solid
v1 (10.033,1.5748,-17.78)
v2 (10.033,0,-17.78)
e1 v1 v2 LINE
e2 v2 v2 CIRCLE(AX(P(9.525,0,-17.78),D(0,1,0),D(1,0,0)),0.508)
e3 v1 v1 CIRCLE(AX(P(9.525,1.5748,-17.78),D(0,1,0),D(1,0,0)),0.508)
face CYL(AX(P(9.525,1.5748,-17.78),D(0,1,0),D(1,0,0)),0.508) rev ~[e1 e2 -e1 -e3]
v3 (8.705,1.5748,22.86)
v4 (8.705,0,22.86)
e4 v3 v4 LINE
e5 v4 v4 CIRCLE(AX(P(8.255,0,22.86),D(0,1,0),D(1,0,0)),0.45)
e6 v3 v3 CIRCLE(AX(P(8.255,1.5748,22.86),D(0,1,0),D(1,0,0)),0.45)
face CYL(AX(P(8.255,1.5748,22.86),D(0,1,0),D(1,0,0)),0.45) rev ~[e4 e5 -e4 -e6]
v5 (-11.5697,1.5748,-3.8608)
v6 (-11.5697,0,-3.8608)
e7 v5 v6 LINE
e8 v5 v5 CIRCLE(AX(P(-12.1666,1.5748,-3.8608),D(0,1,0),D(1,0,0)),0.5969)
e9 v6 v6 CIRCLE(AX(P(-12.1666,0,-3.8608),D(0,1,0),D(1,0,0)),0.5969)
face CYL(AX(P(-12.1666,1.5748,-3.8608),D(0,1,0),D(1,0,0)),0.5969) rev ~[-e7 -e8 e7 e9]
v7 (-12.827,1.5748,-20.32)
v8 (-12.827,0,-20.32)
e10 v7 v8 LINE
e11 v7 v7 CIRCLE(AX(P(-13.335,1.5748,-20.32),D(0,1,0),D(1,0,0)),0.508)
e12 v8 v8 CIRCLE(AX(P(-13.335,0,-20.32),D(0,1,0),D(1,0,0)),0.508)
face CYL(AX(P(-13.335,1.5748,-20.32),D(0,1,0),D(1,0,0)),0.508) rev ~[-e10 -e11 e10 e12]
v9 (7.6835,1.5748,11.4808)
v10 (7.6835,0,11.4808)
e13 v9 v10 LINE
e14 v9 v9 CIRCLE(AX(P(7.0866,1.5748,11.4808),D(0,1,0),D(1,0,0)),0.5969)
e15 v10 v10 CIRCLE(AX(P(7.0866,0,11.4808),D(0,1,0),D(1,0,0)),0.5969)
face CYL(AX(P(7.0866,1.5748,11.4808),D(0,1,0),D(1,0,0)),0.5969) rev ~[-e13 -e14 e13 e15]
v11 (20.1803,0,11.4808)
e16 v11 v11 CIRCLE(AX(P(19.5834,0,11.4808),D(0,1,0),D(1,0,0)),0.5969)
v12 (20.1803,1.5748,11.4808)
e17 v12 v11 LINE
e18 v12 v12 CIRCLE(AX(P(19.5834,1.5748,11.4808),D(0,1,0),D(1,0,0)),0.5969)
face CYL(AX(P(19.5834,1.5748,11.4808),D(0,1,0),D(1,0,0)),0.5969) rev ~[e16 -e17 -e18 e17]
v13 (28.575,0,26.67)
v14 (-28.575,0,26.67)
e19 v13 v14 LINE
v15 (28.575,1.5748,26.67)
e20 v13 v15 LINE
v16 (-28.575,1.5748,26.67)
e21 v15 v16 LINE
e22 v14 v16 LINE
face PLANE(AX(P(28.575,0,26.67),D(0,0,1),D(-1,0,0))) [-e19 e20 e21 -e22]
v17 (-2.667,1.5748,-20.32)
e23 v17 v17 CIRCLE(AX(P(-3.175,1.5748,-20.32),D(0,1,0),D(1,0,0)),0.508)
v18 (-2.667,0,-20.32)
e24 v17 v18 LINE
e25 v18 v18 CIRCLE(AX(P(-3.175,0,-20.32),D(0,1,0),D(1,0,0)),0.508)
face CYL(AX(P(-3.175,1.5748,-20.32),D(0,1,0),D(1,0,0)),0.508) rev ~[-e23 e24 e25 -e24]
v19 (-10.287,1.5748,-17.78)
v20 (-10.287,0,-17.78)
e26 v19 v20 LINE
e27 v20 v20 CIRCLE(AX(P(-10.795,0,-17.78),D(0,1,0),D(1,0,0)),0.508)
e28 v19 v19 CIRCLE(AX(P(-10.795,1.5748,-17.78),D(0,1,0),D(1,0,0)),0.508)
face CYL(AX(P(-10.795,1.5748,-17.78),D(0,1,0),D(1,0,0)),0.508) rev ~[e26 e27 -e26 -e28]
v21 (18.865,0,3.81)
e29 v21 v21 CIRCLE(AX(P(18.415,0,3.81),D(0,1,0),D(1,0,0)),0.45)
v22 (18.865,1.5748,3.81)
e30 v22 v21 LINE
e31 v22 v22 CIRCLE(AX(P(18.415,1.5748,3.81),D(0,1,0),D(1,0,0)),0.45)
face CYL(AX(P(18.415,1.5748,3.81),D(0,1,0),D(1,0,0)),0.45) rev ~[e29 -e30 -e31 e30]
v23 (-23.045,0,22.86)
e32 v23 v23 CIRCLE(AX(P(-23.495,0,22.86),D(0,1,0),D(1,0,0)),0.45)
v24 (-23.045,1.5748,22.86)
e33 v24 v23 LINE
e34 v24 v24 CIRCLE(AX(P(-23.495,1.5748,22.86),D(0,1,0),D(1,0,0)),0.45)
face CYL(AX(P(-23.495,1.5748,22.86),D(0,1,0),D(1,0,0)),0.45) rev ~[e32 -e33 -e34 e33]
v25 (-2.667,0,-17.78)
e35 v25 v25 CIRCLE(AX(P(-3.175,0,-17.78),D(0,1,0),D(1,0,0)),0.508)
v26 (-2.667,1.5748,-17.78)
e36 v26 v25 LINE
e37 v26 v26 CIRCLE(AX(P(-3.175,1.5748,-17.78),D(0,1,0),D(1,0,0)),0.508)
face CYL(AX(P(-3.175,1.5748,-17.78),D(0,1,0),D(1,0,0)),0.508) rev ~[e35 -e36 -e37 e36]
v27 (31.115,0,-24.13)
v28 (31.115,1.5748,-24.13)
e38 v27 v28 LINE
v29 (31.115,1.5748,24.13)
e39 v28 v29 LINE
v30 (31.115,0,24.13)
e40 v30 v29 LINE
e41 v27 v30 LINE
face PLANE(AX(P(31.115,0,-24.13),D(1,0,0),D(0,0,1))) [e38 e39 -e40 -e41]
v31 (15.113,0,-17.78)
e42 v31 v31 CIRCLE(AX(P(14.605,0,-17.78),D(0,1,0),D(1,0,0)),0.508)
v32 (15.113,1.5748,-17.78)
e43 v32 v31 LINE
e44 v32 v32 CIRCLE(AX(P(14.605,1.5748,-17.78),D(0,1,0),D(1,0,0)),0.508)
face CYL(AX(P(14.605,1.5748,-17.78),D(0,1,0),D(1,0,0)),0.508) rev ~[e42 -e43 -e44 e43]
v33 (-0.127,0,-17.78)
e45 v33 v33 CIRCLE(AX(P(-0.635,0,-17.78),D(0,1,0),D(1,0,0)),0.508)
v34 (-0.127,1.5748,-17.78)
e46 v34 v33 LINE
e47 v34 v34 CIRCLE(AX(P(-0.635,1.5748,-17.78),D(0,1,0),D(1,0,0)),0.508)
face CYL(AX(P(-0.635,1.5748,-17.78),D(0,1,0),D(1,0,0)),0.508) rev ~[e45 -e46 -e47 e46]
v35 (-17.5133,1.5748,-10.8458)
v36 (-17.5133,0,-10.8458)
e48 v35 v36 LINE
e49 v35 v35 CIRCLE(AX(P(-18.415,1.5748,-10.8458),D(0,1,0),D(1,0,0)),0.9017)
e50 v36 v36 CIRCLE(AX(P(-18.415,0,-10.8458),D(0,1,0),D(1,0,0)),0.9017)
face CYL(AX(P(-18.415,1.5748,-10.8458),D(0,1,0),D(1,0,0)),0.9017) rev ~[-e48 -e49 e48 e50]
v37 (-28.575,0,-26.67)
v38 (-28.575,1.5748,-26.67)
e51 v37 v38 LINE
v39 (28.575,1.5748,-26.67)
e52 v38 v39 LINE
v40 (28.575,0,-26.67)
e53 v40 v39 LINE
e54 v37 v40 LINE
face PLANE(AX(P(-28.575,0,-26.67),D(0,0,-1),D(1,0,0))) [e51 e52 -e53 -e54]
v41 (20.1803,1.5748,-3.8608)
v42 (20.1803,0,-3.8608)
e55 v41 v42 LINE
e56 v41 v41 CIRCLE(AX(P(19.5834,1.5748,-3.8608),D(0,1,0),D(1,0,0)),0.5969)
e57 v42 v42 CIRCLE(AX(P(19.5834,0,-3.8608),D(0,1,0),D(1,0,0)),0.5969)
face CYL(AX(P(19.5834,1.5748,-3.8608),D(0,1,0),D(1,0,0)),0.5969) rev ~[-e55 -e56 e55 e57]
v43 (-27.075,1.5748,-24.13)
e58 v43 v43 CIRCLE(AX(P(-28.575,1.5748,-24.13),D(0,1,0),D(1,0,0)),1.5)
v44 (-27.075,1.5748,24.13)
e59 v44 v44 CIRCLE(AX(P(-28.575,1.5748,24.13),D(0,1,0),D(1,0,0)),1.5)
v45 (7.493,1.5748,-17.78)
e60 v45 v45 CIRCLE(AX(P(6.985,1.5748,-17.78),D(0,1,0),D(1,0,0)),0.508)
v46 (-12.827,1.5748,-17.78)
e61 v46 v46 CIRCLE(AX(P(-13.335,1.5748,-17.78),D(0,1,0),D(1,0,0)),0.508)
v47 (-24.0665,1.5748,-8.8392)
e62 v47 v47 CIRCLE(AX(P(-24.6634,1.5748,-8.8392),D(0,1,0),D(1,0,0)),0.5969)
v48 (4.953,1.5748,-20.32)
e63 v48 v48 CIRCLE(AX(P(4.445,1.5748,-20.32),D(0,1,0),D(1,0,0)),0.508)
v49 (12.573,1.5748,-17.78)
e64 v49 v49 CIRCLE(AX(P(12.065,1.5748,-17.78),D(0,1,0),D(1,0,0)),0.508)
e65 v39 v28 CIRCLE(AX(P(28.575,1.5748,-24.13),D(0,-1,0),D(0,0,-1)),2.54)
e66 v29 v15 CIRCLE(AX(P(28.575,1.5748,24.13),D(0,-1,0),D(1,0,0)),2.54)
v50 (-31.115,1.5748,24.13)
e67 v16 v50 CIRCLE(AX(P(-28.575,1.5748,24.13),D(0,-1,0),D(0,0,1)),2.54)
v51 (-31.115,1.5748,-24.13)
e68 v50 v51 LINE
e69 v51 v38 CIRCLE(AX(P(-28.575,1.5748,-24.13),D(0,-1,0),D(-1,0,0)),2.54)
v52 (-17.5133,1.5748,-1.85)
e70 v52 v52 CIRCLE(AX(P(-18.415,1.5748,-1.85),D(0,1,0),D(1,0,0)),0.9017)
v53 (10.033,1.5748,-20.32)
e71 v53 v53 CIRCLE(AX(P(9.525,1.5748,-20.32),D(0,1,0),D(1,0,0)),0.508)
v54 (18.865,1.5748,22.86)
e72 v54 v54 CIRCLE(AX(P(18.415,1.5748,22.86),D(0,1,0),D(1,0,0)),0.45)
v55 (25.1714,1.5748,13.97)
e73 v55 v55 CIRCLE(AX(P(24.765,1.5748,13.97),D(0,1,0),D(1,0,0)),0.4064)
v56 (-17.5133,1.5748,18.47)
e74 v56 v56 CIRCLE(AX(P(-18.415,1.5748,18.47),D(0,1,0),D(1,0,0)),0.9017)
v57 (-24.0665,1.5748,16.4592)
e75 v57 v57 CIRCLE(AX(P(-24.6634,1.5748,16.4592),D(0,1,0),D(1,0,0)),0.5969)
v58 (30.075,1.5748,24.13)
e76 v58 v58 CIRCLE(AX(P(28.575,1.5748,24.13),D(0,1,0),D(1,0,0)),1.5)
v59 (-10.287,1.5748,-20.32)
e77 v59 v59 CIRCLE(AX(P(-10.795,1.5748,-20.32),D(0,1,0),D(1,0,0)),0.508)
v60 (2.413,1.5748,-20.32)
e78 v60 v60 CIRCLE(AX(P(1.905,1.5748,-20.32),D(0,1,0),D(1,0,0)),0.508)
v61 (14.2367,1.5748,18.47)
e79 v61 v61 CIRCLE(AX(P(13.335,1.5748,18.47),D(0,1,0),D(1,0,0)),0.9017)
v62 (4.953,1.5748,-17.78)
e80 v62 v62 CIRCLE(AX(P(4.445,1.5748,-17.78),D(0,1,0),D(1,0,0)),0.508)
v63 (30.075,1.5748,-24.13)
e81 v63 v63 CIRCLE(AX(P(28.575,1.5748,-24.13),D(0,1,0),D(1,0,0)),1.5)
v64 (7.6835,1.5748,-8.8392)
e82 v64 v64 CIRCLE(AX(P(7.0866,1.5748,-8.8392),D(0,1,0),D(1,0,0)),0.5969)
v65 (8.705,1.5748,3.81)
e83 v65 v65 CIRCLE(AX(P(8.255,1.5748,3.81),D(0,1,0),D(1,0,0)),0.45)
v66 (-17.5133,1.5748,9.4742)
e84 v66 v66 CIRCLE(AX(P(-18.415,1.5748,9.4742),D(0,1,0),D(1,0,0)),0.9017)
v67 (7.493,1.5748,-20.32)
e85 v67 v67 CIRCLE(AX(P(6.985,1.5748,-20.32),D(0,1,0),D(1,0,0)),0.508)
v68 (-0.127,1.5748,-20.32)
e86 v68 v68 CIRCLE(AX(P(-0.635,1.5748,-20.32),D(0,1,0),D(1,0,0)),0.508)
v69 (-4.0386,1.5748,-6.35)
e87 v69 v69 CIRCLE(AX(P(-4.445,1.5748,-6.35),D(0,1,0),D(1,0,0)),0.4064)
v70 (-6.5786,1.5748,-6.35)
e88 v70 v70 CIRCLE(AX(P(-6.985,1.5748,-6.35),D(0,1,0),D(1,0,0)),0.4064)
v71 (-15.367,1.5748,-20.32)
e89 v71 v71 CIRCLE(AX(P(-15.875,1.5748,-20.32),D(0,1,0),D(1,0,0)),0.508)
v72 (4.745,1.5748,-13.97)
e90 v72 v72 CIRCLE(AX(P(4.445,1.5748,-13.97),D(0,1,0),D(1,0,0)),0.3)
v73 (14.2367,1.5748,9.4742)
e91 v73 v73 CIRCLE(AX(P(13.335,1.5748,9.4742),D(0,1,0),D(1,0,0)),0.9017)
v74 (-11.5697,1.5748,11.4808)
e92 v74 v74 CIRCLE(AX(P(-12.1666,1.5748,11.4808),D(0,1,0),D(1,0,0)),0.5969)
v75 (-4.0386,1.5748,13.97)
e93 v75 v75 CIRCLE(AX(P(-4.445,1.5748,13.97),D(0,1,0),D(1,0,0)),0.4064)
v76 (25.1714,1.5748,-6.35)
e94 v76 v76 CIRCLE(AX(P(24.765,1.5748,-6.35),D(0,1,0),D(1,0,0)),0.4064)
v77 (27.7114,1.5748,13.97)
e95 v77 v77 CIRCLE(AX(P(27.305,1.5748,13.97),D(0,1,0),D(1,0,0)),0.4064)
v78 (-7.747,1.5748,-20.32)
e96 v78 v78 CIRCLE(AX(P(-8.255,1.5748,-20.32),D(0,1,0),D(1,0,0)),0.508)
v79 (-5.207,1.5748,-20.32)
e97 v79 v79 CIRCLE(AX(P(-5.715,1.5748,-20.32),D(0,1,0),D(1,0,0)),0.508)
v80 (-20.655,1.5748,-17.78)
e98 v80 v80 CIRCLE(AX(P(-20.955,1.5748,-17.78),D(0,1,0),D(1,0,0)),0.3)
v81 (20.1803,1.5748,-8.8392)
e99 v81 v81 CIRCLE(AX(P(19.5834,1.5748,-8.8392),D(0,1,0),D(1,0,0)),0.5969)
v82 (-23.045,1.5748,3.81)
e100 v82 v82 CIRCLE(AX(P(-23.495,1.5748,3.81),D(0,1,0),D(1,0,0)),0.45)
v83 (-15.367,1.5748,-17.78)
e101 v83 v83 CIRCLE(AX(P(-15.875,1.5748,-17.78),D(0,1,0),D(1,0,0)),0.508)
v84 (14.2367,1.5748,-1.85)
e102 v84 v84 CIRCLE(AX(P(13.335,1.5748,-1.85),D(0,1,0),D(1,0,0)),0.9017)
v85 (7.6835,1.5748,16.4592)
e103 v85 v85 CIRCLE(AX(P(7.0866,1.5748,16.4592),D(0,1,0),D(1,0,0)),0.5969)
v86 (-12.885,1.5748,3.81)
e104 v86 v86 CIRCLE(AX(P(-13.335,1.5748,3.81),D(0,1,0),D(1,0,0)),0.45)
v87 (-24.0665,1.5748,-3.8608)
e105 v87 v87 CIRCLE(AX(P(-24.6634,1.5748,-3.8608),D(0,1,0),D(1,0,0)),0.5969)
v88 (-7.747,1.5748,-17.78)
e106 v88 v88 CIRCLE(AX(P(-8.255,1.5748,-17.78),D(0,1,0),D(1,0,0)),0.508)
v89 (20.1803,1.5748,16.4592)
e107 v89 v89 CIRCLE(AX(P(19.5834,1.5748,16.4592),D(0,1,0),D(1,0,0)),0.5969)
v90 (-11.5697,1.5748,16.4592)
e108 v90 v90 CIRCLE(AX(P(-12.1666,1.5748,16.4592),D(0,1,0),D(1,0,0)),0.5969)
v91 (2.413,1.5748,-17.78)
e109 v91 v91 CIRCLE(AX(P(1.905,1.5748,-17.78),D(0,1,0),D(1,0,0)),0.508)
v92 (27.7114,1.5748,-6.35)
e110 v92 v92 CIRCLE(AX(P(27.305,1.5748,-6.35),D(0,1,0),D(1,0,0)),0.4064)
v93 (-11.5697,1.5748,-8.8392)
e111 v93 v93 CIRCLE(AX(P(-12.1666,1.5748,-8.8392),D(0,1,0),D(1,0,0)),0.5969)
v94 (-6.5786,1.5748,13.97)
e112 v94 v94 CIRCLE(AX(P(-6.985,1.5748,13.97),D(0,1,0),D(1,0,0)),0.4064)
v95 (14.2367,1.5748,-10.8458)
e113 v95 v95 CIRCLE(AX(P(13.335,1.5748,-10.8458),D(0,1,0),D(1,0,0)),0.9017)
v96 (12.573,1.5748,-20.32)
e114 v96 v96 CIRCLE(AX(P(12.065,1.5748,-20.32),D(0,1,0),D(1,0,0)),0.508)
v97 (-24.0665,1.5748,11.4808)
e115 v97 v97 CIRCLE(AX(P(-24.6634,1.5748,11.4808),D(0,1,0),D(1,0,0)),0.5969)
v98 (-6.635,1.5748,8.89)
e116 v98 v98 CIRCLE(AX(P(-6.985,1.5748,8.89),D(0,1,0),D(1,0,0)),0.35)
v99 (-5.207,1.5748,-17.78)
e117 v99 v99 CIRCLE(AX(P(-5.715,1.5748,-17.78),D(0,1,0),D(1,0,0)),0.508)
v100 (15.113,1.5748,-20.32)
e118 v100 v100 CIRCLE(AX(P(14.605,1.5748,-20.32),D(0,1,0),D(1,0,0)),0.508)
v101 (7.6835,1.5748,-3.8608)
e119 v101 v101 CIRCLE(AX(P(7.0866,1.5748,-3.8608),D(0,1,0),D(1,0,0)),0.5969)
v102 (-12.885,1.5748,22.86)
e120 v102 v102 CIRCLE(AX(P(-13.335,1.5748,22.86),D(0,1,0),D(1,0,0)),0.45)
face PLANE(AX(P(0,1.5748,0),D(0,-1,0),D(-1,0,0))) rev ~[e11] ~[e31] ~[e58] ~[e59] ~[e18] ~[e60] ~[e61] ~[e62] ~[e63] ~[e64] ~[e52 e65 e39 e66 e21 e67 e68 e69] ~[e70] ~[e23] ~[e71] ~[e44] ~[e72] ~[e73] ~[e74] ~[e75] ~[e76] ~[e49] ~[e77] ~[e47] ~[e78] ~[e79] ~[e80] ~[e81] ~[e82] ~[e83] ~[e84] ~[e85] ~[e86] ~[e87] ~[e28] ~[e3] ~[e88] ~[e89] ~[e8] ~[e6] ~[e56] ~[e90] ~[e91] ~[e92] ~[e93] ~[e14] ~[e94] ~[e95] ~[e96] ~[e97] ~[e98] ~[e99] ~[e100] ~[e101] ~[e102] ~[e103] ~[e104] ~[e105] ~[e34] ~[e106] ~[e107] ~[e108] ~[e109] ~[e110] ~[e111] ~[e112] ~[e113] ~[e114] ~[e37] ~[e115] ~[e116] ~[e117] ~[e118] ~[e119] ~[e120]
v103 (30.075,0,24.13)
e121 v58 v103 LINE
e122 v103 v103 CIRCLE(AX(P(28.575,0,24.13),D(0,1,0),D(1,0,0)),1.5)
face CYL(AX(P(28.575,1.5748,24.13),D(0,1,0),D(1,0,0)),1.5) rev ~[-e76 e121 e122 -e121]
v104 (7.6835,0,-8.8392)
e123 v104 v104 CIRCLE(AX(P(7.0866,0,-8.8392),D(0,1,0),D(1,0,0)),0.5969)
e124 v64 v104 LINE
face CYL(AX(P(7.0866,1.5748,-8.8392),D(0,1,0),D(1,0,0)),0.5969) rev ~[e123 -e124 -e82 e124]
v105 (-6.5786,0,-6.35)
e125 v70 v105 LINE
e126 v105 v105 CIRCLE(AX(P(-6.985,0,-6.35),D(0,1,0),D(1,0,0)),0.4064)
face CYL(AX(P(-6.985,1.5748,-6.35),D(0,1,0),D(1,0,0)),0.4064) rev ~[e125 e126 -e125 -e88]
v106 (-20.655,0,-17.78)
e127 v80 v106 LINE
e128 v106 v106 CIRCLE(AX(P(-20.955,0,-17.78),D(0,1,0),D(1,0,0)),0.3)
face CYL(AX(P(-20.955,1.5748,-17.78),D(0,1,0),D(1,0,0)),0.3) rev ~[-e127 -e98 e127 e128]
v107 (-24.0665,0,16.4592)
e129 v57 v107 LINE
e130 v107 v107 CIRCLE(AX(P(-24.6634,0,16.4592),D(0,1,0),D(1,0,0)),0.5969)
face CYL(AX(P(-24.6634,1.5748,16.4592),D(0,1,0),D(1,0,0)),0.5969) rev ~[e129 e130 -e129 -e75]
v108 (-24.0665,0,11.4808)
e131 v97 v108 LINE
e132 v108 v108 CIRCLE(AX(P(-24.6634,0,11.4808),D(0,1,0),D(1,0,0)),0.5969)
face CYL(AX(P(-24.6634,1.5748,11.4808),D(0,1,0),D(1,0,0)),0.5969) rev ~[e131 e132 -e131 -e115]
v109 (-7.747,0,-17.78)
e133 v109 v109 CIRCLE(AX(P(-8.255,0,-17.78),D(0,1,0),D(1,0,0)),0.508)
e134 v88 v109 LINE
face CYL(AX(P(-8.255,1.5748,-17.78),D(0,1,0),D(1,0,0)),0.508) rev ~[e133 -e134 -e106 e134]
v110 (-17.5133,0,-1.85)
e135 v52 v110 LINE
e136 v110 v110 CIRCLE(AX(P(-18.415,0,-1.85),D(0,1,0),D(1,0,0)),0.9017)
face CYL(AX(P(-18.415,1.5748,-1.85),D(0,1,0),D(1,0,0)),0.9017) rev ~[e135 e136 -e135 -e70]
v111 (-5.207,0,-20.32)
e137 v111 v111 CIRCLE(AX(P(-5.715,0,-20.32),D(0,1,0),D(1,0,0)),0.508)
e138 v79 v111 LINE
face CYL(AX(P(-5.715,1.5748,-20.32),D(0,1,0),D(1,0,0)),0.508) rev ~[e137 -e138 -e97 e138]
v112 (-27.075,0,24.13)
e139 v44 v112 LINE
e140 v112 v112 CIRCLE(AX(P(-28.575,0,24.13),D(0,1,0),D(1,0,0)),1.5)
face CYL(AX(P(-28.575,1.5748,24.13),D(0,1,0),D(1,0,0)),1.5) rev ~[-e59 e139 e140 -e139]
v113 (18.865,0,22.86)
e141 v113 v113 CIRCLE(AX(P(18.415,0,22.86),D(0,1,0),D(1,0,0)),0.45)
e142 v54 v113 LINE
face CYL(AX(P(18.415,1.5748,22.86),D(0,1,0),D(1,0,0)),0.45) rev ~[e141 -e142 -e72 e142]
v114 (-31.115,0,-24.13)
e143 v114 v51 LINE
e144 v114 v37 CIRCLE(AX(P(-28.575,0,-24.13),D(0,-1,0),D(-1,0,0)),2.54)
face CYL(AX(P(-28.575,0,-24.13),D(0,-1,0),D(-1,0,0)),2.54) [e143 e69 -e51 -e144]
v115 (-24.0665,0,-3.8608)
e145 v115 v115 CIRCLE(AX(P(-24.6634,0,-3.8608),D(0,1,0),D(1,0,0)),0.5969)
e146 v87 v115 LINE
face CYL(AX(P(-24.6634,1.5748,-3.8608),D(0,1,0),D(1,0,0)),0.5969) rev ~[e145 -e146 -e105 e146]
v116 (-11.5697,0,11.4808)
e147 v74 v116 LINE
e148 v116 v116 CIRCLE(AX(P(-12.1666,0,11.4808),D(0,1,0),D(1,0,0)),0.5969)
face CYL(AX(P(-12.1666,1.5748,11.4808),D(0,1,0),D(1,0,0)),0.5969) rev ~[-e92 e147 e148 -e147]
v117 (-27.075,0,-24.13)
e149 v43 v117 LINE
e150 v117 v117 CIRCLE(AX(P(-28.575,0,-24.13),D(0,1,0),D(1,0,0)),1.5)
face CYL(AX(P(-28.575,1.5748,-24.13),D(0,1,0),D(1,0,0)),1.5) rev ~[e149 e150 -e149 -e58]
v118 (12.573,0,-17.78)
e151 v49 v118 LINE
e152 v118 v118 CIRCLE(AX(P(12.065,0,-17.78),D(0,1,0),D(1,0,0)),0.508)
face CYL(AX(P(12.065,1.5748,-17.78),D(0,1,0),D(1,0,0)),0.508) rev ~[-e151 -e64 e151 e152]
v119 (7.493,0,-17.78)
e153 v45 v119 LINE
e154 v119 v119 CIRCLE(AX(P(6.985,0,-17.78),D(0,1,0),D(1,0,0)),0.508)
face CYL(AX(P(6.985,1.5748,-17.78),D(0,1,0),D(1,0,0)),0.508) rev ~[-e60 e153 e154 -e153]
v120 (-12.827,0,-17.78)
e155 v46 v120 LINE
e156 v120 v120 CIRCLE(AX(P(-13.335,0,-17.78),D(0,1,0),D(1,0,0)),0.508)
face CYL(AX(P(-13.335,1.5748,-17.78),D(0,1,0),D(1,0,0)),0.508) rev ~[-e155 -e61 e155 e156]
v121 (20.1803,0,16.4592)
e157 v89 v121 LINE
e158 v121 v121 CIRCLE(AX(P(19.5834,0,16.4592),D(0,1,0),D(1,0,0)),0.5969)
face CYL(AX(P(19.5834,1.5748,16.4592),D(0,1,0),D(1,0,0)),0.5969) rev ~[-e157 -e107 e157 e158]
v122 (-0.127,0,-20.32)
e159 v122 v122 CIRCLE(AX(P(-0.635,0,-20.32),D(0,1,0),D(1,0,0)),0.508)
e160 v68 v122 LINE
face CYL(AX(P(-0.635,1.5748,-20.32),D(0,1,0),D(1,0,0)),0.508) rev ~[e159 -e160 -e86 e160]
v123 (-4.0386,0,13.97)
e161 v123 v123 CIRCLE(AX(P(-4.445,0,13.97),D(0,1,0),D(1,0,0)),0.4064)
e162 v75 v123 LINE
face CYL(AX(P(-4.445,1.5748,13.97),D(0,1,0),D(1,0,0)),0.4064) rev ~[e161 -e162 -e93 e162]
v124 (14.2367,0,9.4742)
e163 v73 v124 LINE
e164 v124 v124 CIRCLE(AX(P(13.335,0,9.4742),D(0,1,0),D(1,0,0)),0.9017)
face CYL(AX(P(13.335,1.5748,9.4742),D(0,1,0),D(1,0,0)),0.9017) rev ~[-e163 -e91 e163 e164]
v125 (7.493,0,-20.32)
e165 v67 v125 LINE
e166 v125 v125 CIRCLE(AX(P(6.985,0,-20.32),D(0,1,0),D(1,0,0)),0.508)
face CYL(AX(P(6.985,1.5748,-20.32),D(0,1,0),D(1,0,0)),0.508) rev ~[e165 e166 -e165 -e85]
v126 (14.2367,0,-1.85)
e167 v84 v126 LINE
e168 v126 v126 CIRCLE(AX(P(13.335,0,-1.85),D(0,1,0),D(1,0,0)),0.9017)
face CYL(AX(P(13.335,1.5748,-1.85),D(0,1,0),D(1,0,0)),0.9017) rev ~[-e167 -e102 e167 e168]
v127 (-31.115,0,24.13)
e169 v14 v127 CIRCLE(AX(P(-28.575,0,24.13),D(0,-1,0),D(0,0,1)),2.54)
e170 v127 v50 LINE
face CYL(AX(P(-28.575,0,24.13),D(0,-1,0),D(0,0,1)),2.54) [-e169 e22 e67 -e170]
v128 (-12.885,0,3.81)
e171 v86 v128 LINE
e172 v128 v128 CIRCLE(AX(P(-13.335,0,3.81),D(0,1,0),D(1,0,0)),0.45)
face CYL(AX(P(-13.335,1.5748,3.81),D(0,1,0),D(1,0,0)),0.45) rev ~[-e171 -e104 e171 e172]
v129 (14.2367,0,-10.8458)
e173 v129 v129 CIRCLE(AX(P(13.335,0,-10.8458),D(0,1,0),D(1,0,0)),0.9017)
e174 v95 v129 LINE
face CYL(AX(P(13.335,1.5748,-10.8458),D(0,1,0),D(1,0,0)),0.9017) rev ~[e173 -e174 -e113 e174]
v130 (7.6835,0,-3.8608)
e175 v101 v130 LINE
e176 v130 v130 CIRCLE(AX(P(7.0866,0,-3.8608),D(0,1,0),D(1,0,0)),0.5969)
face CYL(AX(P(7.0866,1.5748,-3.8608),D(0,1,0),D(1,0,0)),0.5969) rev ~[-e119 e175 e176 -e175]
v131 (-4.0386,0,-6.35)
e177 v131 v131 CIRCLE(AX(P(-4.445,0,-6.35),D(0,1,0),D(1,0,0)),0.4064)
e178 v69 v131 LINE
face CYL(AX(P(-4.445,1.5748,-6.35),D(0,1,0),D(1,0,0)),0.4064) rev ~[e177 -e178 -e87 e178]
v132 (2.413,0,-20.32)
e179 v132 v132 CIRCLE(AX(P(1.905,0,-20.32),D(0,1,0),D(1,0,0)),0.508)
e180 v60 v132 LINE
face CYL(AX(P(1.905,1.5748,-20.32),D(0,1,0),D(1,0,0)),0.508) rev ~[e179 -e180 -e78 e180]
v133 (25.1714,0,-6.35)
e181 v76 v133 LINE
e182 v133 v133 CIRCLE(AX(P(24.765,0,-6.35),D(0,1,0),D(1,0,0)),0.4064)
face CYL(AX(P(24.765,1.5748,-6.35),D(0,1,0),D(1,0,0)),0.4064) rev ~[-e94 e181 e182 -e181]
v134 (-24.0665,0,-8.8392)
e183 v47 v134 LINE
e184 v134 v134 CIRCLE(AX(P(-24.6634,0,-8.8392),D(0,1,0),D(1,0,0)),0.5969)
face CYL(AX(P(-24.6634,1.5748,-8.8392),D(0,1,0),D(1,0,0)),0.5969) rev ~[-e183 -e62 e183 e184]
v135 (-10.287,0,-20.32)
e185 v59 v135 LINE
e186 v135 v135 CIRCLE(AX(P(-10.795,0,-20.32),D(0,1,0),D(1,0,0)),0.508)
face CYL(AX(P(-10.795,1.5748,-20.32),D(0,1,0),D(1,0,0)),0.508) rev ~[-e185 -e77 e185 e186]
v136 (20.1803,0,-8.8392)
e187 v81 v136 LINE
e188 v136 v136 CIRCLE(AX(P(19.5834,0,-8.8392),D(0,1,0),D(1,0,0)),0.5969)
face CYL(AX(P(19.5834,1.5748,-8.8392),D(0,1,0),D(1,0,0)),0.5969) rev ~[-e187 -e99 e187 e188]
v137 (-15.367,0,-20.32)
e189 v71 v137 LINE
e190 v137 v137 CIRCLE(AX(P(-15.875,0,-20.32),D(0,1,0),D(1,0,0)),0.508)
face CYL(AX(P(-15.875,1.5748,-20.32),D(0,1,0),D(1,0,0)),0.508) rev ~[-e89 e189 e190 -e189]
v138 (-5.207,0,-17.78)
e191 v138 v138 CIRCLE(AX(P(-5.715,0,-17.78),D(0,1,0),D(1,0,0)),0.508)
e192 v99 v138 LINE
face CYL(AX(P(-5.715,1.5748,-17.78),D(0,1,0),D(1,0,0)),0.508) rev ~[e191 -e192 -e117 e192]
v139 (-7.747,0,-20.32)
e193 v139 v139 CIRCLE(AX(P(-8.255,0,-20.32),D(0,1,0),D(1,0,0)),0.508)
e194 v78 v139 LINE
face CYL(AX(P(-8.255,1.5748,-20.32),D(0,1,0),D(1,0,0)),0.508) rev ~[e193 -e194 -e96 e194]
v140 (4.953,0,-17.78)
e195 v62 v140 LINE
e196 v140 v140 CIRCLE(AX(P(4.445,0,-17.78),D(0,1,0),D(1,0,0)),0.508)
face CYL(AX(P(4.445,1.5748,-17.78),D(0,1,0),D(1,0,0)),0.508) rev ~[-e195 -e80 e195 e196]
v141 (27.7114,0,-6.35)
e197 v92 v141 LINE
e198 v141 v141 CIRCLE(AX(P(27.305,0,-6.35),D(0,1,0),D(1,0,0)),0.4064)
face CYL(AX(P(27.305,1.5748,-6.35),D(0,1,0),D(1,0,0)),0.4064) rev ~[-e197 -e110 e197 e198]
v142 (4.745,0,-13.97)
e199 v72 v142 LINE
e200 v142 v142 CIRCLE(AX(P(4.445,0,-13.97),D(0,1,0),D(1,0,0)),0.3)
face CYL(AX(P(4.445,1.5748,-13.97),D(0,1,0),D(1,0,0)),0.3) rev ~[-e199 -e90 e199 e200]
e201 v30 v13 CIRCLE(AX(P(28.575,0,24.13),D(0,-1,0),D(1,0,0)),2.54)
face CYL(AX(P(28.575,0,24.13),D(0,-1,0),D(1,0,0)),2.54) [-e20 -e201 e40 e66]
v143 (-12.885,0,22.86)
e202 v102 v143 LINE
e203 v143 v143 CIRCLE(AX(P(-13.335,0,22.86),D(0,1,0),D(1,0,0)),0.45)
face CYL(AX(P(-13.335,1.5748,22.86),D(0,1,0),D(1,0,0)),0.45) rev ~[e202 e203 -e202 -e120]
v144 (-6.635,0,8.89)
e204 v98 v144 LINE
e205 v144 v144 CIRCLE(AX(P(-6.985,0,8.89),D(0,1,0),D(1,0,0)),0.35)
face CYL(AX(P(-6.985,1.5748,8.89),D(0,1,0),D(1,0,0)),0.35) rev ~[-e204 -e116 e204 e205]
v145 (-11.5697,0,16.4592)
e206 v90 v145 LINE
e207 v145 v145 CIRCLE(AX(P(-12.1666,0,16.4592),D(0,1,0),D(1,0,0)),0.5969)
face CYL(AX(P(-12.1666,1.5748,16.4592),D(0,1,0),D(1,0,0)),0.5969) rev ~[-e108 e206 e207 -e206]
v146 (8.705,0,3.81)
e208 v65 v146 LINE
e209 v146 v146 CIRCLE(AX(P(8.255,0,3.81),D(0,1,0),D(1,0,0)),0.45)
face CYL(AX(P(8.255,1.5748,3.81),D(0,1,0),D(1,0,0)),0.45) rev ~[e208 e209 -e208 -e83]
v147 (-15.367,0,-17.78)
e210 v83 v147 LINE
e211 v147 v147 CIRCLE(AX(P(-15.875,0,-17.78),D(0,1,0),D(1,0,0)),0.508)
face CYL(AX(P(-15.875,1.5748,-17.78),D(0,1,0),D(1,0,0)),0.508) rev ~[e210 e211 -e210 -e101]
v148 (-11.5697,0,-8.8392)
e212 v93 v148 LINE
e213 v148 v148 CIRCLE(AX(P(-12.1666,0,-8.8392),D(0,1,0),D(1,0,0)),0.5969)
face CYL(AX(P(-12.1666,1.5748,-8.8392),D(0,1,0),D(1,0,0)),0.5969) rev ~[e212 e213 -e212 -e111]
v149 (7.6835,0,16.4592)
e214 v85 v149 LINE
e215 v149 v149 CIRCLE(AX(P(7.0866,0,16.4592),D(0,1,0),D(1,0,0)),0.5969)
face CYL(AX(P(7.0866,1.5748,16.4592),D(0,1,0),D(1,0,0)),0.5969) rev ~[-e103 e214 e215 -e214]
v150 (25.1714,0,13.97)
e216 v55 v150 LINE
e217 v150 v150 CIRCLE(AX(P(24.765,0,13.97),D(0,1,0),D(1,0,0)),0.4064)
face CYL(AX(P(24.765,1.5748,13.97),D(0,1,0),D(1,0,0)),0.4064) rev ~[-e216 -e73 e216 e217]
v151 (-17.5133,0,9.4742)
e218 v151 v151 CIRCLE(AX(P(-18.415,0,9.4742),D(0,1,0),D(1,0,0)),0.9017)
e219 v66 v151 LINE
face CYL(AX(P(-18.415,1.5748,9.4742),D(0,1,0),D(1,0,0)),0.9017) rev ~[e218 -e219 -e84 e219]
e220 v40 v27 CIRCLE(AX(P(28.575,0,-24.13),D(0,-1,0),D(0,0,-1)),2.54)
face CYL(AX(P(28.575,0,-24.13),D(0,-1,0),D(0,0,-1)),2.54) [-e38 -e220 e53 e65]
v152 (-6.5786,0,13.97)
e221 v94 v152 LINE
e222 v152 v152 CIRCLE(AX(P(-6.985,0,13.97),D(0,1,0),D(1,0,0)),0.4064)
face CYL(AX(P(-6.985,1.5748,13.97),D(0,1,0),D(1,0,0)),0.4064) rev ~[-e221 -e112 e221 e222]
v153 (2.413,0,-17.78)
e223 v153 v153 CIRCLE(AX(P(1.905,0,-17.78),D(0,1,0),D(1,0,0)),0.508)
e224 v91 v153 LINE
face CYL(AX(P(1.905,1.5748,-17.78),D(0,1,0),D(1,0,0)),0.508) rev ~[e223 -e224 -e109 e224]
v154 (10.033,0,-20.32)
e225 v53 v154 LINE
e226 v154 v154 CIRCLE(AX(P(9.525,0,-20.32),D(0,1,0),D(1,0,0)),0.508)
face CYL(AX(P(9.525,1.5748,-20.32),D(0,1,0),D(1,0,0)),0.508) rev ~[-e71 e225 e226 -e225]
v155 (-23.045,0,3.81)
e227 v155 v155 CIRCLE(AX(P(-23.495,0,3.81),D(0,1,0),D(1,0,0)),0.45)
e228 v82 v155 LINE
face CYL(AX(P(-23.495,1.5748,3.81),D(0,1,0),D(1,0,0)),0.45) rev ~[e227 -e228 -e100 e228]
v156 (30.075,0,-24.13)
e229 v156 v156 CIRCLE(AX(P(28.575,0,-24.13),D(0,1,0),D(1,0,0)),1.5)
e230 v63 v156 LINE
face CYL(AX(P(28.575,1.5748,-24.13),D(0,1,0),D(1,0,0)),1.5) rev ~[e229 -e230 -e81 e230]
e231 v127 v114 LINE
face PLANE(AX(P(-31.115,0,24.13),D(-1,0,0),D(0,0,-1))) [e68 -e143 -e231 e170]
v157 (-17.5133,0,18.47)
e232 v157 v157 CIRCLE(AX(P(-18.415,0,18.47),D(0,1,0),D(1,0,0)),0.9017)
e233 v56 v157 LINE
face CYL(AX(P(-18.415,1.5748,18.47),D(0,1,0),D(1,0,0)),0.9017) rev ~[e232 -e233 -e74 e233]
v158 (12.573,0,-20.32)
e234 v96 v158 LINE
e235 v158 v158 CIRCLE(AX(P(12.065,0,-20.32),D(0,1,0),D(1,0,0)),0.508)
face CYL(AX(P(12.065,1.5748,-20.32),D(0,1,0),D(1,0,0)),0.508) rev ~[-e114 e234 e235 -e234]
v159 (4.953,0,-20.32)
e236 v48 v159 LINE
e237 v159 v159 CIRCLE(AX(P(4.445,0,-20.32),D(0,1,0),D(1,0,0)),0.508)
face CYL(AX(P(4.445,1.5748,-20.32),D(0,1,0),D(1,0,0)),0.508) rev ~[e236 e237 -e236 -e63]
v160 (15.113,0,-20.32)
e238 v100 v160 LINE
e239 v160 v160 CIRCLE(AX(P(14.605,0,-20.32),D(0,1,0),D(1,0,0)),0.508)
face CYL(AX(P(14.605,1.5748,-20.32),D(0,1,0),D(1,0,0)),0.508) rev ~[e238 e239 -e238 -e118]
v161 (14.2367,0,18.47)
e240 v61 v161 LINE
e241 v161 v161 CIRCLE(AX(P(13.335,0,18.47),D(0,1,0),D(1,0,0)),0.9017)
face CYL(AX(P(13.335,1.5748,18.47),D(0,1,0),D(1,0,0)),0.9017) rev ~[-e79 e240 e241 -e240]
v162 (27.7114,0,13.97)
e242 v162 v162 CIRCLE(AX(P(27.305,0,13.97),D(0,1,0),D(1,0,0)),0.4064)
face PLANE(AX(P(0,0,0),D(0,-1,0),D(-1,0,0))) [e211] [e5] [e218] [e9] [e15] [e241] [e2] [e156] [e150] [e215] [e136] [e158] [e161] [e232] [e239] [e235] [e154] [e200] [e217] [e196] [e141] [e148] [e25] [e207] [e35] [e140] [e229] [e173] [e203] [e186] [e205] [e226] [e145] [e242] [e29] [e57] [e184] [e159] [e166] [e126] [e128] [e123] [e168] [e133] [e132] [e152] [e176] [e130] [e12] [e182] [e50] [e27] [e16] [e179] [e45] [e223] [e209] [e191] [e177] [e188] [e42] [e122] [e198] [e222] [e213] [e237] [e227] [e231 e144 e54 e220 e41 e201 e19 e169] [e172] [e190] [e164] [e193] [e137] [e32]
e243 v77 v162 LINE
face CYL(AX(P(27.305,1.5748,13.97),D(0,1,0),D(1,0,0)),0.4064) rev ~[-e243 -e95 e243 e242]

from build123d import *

# Parameters (mm, degrees)
BOSS_EXTRUDE1_DEPTH = 1.5748
SKETCH2_R           = 1.5
SKETCH2_R_2         = 0.3
SKETCH2_R_3         = 0.508
SKETCH2_R_4         = 0.5969
SKETCH2_R_5         = 0.449999989
SKETCH2_R_6         = 0.4064
SKETCH2_R_7         = 0.9017
SKETCH2_R_8         = 0.350000062
CUT_EXTRUDE1_DEPTH  = 2.5748


with BuildPart() as part:
    # Sketch1 → Boss-Extrude1 (new body)
    with BuildSketch(Plane(origin=(0, 0, 0), x_dir=(1, 0, 0), z_dir=(0, 1, 0))):
        with BuildLine():
            Line((-28.575, 26.67), (28.575, 26.67))
            ThreePointArc((28.575, 26.67), (30.371051224, 25.926051224), (31.115, 24.13))
            Line((31.115, 24.13), (31.115, -24.13))
            ThreePointArc((31.115, -24.13), (30.371051224, -25.926051224), (28.575, -26.67))
            Line((28.575, -26.67), (-28.575, -26.67))
            ThreePointArc((-28.575, -26.67), (-30.371051224, -25.926051224), (-31.115, -24.13))
            Line((-31.115, -24.13), (-31.115, 24.13))
            ThreePointArc((-31.115, 24.13), (-30.371051224, 25.926051224), (-28.575, 26.67))
        make_face()
    extrude(amount=BOSS_EXTRUDE1_DEPTH)

    # Sketch2 → Cut-Extrude1 (cut, through all)
    with BuildSketch(Plane(origin=(0, 1.5748, 0), x_dir=(1, 0, 0), z_dir=(0, 1, 0))):
        with Locations((-28.575, 24.13)):
            Circle(SKETCH2_R)
        with Locations((28.575, 24.13)):
            Circle(SKETCH2_R)
        with Locations((28.575, -24.13)):
            Circle(SKETCH2_R)
        with Locations((-28.575, -24.13)):
            Circle(SKETCH2_R)
        with Locations((-20.955, 17.78)):
            Circle(SKETCH2_R_2)
        with Locations((14.605, 20.32)):
            Circle(SKETCH2_R_3)
        with Locations((12.065, 20.32)):
            Circle(SKETCH2_R_3)
        with Locations((9.525, 20.32)):
            Circle(SKETCH2_R_3)
        with Locations((6.985, 20.32)):
            Circle(SKETCH2_R_3)
        with Locations((4.445, 20.32)):
            Circle(SKETCH2_R_3)
        with Locations((1.905, 20.32)):
            Circle(SKETCH2_R_3)
        with Locations((-0.635, 20.32)):
            Circle(SKETCH2_R_3)
        with Locations((-3.175, 20.32)):
            Circle(SKETCH2_R_3)
        with Locations((-5.715, 20.32)):
            Circle(SKETCH2_R_3)
        with Locations((-8.255, 20.32)):
            Circle(SKETCH2_R_3)
        with Locations((-10.795, 20.32)):
            Circle(SKETCH2_R_3)
        with Locations((-13.335, 20.32)):
            Circle(SKETCH2_R_3)
        with Locations((-15.875, 20.32)):
            Circle(SKETCH2_R_3)
        with Locations((12.065, 17.78)):
            Circle(SKETCH2_R_3)
        with Locations((9.525, 17.78)):
            Circle(SKETCH2_R_3)
        with Locations((6.985, 17.78)):
            Circle(SKETCH2_R_3)
        with Locations((4.445, 17.78)):
            Circle(SKETCH2_R_3)
        with Locations((1.905, 17.78)):
            Circle(SKETCH2_R_3)
        with Locations((-0.635, 17.78)):
            Circle(SKETCH2_R_3)
        with Locations((-3.175, 17.78)):
            Circle(SKETCH2_R_3)
        with Locations((-5.715, 17.78)):
            Circle(SKETCH2_R_3)
        with Locations((-8.255, 17.78)):
            Circle(SKETCH2_R_3)
        with Locations((-10.795, 17.78)):
            Circle(SKETCH2_R_3)
        with Locations((-13.335, 17.78)):
            Circle(SKETCH2_R_3)
        with Locations((-15.875, 17.78)):
            Circle(SKETCH2_R_3)
        with Locations((14.605, 17.78)):
            Circle(SKETCH2_R_3)
        with Locations((4.445, 13.97)):
            Circle(SKETCH2_R_2)
        with Locations((-24.6634, -11.4808)):
            Circle(SKETCH2_R_4)
        with Locations((-24.6634, -16.4592)):
            Circle(SKETCH2_R_4)
        with Locations((-12.1666, -16.4592)):
            Circle(SKETCH2_R_4)
        with Locations((-12.1666, -11.4808)):
            Circle(SKETCH2_R_4)
        with Locations((-23.495, -22.86)):
            Circle(SKETCH2_R_5)
        with Locations((-13.335, -22.86)):
            Circle(SKETCH2_R_5)
        with Locations((-6.985, -13.97)):
            Circle(SKETCH2_R_6)
        with Locations((-4.445, -13.97)):
            Circle(SKETCH2_R_6)
        with Locations((-18.415, -9.4742)):
            Circle(SKETCH2_R_7)
        with Locations((-18.415, -18.47)):
            Circle(SKETCH2_R_7)
        with Locations((7.0866, -11.4808)):
            Circle(SKETCH2_R_4)
        with Locations((7.0866, -16.4592)):
            Circle(SKETCH2_R_4)
        with Locations((19.5834, -16.4592)):
            Circle(SKETCH2_R_4)
        with Locations((19.5834, -11.4808)):
            Circle(SKETCH2_R_4)
        with Locations((24.765, -13.97)):
            Circle(SKETCH2_R_6)
        with Locations((27.305, -13.97)):
            Circle(SKETCH2_R_6)
        with Locations((13.335, -9.4742)):
            Circle(SKETCH2_R_7)
        with Locations((13.335, -18.47)):
            Circle(SKETCH2_R_7)
        with Locations((7.0866, 8.8392)):
            Circle(SKETCH2_R_4)
        with Locations((7.0866, 3.8608)):
            Circle(SKETCH2_R_4)
        with Locations((19.5834, 3.8608)):
            Circle(SKETCH2_R_4)
        with Locations((19.5834, 8.8392)):
            Circle(SKETCH2_R_4)
        with Locations((24.765, 6.35)):
            Circle(SKETCH2_R_6)
        with Locations((27.305, 6.35)):
            Circle(SKETCH2_R_6)
        with Locations((13.335, 10.8458)):
            Circle(SKETCH2_R_7)
        with Locations((13.335, 1.85)):
            Circle(SKETCH2_R_7)
        with Locations((-24.6634, 8.8392)):
            Circle(SKETCH2_R_4)
        with Locations((-24.6634, 3.8608)):
            Circle(SKETCH2_R_4)
        with Locations((-12.1666, 3.8608)):
            Circle(SKETCH2_R_4)
        with Locations((-12.1666, 8.8392)):
            Circle(SKETCH2_R_4)
        with Locations((-6.985, 6.35)):
            Circle(SKETCH2_R_6)
        with Locations((-4.445, 6.35)):
            Circle(SKETCH2_R_6)
        with Locations((-18.415, 10.8458)):
            Circle(SKETCH2_R_7)
        with Locations((-18.415, 1.85)):
            Circle(SKETCH2_R_7)
        with Locations((8.255, -22.86)):
            Circle(SKETCH2_R_5)
        with Locations((18.415, -22.86)):
            Circle(SKETCH2_R_5)
        with Locations((8.255, -3.81)):
            Circle(SKETCH2_R_5)
        with Locations((18.415, -3.81)):
            Circle(SKETCH2_R_5)
        with Locations((-23.495, -3.81)):
            Circle(SKETCH2_R_5)
        with Locations((-13.335, -3.81)):
            Circle(SKETCH2_R_5)
        with Locations((-6.985, -8.89)):
            Circle(SKETCH2_R_8)
    extrude(amount=-CUT_EXTRUDE1_DEPTH, mode=Mode.SUBTRACT)


solid = part.part
